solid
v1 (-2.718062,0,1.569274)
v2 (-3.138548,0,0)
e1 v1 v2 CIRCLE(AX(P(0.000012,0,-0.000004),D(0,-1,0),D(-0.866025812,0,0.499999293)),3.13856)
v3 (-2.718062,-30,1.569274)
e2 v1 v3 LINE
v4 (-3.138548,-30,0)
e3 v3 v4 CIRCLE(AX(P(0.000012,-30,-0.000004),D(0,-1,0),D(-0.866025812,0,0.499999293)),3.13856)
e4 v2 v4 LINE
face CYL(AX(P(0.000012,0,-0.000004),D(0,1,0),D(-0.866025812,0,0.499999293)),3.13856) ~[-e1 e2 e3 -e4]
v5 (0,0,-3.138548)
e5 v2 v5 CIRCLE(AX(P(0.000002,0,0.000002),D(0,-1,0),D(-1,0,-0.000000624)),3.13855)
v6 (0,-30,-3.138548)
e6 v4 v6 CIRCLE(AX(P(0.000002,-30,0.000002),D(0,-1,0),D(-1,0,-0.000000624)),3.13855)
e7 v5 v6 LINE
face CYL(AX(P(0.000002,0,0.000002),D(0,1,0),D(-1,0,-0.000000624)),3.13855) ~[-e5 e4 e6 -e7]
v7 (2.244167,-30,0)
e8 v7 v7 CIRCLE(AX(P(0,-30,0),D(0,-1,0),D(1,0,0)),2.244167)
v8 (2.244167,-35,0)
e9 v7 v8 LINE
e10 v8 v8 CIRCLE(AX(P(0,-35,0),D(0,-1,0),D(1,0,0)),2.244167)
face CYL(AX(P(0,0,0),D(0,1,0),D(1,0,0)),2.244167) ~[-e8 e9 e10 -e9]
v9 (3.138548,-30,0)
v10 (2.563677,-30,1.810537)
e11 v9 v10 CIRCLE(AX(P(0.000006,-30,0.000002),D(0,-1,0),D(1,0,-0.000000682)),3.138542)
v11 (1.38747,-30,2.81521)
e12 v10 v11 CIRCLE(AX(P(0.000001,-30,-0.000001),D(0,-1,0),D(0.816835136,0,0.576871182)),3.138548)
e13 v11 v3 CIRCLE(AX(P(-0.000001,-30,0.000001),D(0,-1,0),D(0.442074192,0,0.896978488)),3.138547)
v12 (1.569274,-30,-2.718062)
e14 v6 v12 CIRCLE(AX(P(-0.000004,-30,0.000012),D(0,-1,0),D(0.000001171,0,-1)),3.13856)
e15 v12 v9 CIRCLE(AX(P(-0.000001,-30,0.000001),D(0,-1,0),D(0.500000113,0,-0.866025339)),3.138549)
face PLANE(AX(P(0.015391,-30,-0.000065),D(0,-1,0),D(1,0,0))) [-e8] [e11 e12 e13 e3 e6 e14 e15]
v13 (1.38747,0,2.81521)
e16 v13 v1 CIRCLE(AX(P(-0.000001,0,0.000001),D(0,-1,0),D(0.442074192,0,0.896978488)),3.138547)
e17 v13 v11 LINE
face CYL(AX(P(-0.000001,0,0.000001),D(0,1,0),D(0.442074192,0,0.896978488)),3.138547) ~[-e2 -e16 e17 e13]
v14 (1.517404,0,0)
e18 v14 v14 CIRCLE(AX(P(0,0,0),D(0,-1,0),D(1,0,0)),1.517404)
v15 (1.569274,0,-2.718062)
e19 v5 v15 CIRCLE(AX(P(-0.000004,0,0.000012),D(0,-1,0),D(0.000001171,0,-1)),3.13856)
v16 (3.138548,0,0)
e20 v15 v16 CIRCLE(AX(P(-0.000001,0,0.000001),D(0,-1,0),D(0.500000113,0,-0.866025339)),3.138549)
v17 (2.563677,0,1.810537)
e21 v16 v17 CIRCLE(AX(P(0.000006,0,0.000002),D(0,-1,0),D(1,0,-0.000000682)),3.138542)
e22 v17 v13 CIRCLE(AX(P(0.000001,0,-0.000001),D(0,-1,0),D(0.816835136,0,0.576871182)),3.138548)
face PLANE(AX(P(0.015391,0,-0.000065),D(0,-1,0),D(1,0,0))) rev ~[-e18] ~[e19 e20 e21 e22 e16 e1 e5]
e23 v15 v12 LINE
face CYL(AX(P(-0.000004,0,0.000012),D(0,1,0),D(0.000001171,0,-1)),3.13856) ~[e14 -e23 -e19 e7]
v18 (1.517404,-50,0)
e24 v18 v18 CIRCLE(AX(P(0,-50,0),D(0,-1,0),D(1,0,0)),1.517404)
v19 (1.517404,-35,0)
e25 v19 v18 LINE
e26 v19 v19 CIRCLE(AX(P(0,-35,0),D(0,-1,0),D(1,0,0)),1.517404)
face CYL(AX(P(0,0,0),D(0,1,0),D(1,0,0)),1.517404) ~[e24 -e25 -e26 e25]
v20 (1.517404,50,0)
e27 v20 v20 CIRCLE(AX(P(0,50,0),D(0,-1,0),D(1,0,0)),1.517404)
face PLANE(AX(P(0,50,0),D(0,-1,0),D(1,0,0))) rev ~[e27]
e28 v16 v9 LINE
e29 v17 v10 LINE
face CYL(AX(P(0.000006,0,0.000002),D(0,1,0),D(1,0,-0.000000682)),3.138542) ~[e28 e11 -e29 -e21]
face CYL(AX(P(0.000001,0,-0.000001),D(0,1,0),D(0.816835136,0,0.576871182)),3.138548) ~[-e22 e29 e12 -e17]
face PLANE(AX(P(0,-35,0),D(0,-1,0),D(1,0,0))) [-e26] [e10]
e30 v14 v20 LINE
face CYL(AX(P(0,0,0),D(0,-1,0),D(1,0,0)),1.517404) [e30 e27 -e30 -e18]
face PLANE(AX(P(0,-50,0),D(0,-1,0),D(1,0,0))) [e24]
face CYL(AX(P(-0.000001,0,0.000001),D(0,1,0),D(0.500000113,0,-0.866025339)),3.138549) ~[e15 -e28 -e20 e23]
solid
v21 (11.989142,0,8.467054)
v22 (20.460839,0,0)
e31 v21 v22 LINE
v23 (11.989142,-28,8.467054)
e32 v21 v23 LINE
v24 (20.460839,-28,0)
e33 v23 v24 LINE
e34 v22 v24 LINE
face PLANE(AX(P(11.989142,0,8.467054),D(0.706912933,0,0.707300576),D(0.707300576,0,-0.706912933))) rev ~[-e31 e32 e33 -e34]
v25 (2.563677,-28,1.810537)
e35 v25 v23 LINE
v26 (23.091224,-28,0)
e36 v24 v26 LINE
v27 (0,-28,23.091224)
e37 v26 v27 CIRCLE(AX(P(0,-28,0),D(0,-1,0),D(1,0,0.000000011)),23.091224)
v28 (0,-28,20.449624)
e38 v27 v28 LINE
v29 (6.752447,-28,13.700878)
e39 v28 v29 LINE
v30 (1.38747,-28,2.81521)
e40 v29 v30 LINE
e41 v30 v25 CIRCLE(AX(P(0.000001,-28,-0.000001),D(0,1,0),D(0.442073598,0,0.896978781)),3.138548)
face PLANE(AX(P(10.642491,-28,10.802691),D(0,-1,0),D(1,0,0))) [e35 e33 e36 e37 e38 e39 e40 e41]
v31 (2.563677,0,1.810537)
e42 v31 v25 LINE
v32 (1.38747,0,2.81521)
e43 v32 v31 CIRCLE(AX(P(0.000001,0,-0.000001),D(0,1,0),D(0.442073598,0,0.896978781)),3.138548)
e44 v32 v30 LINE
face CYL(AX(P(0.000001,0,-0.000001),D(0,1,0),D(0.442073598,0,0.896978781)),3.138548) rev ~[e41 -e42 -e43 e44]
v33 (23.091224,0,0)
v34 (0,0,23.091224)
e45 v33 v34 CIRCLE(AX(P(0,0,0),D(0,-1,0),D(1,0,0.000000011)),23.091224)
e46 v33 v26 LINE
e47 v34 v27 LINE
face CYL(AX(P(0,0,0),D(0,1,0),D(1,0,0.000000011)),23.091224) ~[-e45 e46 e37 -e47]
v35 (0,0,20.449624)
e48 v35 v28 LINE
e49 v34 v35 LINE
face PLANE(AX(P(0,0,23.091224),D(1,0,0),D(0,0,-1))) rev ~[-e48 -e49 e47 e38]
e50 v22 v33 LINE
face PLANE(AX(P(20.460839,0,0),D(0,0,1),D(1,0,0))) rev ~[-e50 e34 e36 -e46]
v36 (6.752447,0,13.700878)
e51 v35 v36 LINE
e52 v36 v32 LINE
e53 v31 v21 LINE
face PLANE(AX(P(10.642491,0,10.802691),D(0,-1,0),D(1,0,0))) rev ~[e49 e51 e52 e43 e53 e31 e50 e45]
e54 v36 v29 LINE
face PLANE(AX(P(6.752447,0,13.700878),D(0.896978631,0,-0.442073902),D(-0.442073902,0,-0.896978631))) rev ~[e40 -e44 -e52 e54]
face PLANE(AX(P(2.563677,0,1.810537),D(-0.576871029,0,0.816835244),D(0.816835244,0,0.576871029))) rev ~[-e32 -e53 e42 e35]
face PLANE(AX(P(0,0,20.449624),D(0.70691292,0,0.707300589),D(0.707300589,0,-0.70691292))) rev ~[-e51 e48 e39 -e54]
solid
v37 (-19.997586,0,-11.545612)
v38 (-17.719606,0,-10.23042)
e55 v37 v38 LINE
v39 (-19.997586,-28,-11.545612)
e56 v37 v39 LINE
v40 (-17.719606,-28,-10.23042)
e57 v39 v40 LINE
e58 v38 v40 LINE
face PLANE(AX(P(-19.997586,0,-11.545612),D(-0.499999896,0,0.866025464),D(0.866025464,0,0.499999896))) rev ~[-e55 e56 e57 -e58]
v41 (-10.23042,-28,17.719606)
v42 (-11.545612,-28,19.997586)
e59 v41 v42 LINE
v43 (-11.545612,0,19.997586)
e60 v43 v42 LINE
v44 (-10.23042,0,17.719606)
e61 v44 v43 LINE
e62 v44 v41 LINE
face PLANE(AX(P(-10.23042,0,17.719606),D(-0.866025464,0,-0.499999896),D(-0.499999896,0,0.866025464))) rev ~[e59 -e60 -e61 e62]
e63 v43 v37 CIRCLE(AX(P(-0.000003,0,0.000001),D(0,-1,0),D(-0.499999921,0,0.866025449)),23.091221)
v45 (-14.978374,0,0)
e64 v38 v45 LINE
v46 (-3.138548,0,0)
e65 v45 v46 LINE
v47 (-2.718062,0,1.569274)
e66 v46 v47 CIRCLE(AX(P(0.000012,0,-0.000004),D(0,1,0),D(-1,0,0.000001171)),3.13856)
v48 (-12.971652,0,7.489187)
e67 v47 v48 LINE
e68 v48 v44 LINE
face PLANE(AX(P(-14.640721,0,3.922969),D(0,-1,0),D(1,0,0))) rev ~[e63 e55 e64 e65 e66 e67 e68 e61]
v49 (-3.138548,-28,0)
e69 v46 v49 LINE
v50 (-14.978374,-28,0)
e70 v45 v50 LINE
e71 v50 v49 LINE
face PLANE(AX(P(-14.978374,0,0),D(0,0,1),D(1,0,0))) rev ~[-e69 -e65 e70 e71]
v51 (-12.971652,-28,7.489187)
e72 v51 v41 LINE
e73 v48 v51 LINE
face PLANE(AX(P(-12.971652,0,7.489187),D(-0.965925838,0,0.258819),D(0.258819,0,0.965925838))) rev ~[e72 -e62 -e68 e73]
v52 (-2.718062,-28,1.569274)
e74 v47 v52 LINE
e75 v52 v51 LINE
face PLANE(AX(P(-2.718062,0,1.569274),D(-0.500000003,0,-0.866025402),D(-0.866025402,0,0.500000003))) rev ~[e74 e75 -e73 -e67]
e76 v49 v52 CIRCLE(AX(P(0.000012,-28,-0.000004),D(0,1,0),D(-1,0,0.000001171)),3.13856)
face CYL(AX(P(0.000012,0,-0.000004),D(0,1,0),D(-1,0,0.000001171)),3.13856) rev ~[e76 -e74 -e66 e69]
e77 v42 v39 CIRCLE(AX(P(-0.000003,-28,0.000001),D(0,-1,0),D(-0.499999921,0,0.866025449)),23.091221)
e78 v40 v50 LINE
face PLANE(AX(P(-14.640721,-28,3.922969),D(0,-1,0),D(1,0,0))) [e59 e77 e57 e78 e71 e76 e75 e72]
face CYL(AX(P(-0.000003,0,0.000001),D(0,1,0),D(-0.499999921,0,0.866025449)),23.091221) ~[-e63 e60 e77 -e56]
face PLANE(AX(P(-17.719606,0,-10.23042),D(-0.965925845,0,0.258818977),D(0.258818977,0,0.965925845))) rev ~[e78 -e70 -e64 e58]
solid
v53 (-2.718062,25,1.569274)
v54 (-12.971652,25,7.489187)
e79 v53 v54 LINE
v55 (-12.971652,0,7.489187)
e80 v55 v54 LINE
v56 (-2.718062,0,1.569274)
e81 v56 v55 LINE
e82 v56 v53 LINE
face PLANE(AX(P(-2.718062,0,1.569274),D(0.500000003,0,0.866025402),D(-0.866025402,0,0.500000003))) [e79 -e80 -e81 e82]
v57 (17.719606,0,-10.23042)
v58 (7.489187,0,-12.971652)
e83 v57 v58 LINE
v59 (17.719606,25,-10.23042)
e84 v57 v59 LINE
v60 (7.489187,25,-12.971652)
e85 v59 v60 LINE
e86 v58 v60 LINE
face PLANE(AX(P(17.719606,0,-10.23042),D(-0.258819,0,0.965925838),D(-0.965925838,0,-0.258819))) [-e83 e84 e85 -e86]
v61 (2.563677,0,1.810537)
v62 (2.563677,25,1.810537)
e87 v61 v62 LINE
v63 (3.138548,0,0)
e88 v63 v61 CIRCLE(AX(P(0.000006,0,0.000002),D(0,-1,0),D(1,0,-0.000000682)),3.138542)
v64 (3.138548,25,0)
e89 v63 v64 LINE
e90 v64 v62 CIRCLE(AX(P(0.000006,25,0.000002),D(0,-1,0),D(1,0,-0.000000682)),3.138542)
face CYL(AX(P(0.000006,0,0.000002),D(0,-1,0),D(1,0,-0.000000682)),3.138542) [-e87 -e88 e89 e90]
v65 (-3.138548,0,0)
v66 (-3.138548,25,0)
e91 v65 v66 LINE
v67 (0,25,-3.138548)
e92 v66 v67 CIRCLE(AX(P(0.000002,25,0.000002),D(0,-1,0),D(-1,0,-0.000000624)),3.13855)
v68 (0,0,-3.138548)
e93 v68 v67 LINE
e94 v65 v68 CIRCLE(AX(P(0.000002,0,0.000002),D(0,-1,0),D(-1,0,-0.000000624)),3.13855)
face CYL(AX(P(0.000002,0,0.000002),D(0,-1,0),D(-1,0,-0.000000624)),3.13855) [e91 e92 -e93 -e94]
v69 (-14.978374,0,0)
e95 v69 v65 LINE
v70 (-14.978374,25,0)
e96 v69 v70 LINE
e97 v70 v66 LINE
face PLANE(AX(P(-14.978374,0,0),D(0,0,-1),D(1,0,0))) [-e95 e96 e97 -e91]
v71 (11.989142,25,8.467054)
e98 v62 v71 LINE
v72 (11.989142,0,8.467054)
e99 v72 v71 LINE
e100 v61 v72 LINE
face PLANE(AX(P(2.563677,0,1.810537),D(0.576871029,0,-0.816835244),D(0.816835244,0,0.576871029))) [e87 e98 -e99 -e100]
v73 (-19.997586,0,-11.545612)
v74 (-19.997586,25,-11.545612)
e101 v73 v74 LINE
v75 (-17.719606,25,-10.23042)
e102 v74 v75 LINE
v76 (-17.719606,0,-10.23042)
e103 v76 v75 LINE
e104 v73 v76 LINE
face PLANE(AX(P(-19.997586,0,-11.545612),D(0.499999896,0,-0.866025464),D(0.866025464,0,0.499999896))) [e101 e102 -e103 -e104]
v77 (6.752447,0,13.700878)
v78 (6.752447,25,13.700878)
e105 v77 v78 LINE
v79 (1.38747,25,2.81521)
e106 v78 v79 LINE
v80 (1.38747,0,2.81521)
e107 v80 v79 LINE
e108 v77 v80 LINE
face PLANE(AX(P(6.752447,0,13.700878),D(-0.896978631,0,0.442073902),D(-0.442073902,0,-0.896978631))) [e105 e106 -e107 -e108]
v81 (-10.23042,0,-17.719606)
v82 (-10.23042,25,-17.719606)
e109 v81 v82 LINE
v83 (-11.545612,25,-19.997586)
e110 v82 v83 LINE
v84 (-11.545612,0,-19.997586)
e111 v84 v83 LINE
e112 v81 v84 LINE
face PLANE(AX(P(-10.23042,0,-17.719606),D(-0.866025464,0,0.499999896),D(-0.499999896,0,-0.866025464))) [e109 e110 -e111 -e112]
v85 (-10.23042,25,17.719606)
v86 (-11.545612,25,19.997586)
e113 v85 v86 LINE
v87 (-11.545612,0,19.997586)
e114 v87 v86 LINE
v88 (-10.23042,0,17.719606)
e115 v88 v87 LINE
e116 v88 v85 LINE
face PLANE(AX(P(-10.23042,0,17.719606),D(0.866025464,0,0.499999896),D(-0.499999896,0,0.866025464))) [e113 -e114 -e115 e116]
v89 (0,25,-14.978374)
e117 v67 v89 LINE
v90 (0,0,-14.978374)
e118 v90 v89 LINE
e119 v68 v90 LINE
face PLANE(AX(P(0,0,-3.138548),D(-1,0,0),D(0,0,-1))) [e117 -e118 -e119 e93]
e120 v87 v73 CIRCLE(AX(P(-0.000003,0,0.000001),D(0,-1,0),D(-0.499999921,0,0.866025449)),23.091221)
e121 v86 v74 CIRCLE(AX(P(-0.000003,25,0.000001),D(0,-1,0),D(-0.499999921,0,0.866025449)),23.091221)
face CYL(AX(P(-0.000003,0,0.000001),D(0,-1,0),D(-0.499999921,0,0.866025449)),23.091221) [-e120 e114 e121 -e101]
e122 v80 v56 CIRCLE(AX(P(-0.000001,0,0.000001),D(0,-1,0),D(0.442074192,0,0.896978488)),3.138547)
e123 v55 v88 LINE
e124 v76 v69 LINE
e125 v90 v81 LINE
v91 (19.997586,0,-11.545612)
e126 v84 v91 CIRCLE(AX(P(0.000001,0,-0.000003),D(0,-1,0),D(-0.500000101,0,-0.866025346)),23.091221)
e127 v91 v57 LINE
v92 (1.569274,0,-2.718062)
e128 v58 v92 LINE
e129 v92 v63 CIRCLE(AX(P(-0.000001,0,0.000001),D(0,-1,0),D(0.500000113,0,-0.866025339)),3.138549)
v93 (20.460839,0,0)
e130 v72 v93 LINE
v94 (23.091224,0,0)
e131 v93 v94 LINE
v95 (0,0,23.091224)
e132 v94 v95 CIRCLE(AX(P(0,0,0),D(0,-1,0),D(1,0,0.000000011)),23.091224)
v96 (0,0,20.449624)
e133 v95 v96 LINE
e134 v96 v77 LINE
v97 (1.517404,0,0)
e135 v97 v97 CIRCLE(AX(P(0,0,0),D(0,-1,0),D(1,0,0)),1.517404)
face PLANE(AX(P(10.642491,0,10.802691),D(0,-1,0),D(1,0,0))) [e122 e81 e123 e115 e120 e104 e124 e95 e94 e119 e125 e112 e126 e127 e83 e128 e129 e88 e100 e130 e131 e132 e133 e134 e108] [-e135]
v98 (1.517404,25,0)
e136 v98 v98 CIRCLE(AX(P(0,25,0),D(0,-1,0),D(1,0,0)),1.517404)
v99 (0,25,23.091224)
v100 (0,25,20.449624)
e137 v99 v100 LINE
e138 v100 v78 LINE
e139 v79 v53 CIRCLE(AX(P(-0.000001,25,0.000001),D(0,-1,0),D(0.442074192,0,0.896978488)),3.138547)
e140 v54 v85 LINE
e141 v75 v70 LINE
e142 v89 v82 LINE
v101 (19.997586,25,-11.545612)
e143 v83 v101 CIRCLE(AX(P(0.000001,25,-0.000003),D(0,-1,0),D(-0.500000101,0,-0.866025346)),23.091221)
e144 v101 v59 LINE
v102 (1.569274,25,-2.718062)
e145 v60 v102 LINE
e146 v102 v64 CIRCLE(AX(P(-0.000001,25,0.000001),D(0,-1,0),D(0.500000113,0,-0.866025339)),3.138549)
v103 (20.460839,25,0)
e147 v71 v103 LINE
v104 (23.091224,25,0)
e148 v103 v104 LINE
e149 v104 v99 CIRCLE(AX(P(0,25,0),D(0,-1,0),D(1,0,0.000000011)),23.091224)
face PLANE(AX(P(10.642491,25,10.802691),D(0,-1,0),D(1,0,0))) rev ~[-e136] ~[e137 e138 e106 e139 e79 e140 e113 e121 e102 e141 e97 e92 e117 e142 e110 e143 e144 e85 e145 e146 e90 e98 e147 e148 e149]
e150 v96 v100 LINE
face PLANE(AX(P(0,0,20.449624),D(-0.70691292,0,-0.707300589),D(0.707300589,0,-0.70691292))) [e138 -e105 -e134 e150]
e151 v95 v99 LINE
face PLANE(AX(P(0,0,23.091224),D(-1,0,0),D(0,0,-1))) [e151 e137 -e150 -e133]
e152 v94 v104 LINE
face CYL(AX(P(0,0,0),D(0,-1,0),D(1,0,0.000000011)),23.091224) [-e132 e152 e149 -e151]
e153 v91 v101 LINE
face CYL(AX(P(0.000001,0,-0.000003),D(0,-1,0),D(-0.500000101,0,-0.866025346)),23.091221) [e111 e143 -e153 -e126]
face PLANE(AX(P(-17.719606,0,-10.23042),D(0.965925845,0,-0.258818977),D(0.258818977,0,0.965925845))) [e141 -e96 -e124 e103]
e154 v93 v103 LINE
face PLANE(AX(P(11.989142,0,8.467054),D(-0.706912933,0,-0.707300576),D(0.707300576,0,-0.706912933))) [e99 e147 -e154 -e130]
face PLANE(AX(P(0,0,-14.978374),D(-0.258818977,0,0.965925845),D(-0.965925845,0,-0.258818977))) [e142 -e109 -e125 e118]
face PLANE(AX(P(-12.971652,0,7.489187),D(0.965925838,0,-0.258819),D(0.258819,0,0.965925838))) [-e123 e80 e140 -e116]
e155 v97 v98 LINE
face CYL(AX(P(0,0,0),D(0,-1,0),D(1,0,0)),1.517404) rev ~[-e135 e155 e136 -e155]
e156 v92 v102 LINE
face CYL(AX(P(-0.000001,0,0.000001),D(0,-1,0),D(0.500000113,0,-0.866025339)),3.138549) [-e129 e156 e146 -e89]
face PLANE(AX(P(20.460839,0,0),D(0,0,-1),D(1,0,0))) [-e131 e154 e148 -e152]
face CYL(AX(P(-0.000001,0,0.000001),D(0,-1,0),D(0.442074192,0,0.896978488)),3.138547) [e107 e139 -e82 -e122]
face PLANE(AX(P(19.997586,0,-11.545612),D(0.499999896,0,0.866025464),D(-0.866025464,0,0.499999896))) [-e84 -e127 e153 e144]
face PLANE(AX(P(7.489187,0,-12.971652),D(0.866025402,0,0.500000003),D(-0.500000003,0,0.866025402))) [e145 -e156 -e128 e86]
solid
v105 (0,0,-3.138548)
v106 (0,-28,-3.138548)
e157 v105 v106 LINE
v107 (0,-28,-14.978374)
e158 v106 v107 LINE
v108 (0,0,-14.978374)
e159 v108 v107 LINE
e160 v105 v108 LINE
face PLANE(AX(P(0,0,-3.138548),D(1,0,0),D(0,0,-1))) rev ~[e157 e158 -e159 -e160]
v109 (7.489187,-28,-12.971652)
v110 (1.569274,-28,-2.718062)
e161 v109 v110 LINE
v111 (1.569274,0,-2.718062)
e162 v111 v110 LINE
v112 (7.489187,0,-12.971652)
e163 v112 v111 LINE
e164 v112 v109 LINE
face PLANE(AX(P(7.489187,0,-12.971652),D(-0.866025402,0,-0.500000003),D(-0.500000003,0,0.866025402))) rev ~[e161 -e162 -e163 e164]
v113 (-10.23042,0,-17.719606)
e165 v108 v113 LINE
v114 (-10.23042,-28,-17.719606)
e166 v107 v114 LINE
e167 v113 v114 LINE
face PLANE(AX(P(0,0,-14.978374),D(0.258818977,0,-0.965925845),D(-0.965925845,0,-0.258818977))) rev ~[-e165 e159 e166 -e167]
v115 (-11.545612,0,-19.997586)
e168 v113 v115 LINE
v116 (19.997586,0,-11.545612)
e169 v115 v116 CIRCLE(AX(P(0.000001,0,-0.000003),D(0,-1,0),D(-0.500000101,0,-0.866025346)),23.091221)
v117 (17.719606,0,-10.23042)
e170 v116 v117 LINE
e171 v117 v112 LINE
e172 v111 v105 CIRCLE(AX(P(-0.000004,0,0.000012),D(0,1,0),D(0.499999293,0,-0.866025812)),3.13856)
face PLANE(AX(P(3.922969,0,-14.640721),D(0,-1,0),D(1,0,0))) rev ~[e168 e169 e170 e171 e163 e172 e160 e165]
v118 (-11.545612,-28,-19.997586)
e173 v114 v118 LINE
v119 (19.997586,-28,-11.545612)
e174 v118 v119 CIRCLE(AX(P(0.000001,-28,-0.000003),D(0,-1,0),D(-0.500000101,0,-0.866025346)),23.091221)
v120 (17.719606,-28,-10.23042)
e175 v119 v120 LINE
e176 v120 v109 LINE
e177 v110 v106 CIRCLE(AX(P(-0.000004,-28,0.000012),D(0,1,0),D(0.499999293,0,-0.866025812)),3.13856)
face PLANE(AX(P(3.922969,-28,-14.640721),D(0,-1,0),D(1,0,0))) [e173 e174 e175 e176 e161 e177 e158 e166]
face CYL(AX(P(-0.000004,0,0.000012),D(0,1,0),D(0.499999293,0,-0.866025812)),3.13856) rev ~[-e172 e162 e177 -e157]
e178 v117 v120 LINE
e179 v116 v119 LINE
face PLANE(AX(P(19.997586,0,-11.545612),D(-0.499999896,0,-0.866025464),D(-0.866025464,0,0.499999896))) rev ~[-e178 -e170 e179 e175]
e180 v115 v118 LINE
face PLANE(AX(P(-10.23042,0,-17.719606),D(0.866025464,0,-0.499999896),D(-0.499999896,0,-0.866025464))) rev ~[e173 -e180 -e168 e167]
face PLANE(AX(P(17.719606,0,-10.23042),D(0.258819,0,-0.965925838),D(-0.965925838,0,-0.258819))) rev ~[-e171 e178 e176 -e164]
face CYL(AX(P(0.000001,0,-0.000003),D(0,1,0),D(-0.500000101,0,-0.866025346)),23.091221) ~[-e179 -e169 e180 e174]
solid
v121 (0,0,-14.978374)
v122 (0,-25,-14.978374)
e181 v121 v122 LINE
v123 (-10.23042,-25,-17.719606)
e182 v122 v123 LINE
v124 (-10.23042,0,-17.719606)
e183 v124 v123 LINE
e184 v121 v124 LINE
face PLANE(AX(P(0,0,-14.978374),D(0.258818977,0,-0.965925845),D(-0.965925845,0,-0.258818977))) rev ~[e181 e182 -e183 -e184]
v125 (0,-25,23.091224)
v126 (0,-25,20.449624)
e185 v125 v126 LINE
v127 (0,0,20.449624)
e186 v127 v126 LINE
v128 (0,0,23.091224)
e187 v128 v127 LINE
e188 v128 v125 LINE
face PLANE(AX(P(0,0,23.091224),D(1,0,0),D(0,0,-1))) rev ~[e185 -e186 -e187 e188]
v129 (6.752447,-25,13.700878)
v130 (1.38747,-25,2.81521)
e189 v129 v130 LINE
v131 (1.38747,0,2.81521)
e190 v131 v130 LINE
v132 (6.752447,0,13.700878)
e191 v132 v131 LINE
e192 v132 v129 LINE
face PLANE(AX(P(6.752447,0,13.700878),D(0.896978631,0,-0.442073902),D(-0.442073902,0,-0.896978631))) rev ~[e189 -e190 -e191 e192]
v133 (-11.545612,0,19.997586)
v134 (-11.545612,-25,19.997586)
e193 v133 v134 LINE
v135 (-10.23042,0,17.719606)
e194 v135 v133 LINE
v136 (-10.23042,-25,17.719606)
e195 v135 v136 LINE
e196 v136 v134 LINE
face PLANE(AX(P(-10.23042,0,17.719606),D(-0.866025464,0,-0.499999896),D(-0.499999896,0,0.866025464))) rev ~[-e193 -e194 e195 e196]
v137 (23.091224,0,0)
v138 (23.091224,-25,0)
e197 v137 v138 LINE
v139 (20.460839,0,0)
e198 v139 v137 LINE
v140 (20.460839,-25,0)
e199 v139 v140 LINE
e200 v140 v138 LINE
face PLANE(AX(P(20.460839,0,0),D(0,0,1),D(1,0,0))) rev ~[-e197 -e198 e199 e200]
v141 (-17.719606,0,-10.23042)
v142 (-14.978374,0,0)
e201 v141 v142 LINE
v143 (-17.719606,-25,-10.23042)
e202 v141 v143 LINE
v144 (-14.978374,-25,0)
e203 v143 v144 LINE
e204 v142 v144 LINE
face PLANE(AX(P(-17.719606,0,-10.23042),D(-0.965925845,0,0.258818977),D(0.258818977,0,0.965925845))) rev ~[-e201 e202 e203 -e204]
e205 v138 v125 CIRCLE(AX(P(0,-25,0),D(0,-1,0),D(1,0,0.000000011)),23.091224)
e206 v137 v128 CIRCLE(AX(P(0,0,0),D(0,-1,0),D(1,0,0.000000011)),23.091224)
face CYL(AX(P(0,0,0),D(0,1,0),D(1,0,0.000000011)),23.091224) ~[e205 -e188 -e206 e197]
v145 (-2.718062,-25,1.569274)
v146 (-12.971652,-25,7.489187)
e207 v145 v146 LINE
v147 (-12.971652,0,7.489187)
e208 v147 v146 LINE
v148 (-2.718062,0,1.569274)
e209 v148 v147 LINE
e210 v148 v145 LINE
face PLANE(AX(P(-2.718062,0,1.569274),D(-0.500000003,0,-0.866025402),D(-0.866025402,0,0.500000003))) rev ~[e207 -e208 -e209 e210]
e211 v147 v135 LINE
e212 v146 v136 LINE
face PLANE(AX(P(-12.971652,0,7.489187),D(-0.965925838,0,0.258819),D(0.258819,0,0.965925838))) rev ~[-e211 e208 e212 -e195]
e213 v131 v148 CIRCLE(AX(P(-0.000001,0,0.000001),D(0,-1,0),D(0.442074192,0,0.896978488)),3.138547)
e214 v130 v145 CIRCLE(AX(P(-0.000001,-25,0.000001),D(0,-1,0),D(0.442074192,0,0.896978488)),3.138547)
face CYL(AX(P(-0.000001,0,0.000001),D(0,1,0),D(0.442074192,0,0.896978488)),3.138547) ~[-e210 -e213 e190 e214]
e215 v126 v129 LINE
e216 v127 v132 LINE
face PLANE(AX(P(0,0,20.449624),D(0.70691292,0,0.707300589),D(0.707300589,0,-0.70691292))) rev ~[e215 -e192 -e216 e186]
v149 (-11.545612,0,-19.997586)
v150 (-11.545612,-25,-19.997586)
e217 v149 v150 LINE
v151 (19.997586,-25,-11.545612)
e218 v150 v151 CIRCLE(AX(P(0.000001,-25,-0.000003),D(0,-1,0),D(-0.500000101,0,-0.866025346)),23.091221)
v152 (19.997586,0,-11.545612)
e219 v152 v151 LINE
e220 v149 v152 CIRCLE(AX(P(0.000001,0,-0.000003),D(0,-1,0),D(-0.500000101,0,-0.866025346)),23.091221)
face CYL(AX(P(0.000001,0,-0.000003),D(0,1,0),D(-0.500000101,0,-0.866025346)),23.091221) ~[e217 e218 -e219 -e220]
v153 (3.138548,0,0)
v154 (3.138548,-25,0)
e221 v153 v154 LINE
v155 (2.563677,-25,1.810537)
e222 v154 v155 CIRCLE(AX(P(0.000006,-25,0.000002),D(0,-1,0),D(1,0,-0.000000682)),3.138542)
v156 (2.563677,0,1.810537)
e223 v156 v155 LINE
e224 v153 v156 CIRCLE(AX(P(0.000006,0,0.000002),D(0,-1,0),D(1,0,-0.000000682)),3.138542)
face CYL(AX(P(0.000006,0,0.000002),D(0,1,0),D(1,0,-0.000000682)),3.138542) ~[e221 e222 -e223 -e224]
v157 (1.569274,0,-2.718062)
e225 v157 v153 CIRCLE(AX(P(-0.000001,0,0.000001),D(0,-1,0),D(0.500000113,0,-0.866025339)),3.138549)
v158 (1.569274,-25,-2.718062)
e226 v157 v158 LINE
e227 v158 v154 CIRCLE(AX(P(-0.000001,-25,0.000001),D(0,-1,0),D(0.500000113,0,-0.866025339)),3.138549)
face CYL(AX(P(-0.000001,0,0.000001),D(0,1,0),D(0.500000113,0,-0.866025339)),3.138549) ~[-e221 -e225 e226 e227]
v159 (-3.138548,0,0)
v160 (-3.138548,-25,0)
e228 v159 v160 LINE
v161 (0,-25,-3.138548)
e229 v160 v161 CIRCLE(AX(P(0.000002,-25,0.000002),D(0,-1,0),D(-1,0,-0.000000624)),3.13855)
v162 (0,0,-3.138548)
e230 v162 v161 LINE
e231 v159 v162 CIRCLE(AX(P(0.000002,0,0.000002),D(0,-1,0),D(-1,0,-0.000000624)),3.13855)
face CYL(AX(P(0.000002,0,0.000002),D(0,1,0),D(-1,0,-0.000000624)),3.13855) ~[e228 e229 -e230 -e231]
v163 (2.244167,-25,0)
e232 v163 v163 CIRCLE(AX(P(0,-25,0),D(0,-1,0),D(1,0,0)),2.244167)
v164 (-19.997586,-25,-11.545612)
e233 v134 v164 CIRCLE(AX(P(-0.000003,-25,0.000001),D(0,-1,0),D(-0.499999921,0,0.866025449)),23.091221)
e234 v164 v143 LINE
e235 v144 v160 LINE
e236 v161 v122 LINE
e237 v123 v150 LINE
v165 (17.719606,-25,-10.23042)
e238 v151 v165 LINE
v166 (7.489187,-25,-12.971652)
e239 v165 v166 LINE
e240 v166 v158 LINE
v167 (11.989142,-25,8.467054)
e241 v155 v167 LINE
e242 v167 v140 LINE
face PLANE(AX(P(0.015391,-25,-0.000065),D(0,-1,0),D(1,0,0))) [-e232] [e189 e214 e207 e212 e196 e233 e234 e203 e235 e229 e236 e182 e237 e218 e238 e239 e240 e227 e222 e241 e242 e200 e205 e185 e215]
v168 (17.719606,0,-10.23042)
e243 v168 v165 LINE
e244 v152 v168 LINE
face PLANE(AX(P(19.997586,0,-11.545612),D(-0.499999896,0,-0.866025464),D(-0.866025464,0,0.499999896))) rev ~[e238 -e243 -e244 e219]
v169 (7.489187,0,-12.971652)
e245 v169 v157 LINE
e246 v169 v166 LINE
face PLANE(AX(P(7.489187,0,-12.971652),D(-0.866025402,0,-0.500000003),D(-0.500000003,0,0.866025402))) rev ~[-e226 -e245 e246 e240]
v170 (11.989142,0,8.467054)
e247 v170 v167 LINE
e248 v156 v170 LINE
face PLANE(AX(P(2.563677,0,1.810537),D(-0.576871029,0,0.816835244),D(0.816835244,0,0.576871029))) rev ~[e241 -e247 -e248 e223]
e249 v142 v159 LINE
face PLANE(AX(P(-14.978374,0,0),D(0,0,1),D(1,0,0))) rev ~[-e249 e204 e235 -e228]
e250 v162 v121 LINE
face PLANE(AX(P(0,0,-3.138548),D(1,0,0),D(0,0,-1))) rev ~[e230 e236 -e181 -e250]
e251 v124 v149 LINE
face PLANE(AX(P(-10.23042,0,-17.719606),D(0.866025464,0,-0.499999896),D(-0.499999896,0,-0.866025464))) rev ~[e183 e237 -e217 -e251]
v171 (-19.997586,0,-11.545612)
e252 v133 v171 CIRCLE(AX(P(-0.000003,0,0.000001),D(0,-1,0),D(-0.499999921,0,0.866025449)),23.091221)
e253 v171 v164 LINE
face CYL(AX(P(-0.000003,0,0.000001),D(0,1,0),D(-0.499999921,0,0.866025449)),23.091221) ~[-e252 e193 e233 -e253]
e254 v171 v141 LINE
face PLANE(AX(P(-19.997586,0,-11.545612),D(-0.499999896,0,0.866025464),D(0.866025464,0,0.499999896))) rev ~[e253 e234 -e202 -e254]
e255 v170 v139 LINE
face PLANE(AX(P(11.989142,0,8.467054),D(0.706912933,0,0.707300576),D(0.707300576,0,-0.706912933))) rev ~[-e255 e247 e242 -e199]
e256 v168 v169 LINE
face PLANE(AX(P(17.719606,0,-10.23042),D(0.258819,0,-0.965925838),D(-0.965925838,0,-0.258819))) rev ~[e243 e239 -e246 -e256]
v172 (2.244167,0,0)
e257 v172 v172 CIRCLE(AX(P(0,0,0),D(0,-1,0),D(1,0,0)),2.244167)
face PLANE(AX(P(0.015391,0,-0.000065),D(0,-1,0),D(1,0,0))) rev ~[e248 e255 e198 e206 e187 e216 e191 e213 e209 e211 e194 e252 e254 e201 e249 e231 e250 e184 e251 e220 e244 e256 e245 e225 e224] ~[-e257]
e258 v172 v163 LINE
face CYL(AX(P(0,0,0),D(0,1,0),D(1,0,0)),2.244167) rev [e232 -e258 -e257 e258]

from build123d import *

# Parameters (mm, degrees)
F1_DEPTH = 28
F0_R     = 2.244167
F2_DEPTH = 30
F0_R_2   = 1.517404
F3_DEPTH = 35
F4_DEPTH = 50
F5_DEPTH = 50
F6_DEPTH = 25
F7_DEPTH = 25


with BuildPart() as f1:
    # F0 (on Front) → F1 (new body)
    with BuildSketch(Plane.XZ):
        with BuildLine():
            ThreePointArc((-3.138548, 0), (-3.031604, 0.812316), (-2.718062, 1.569274))
            Line((-2.718062, 1.569274), (-12.971652, 7.489187))
            Line((-12.971652, 7.489187), (-10.23042, 17.719606))
            Line((-10.23042, 17.719606), (-11.545612, 19.997586))
            ThreePointArc((-11.545612, 19.997586), (-22.30441, 5.976449), (-19.997586, -11.545612))
            Line((-19.997586, -11.545612), (-17.719606, -10.23042))
            Line((-17.719606, -10.23042), (-14.978374, 0))
            Line((-14.978374, 0), (-3.138548, 0))
        make_face()
        with BuildLine():
            ThreePointArc((1.38747, 2.81521), (2.038439, 2.386472), (2.563677, 1.810537))
            Line((2.563677, 1.810537), (11.989142, 8.467054))
            Line((11.989142, 8.467054), (20.460839, 0))
            Line((20.460839, 0), (23.091224, 0))
            ThreePointArc((23.091224, 0), (16.327961, 16.327961), (0, 23.091224))
            Line((0, 23.091224), (0, 20.449624))
            Line((0, 20.449624), (6.752447, 13.700878))
            Line((6.752447, 13.700878), (1.38747, 2.81521))
        make_face()
        with BuildLine():
            Line((7.489187, -12.971652), (1.569274, -2.718062))
            ThreePointArc((1.569274, -2.718062), (0.812316, -3.031604), (0, -3.138548))
            Line((0, -3.138548), (0, -14.978374))
            Line((0, -14.978374), (-10.23042, -17.719606))
            Line((-10.23042, -17.719606), (-11.545612, -19.997586))
            ThreePointArc((-11.545612, -19.997586), (5.976449, -22.30441), (19.997586, -11.545612))
            Line((19.997586, -11.545612), (17.719606, -10.23042))
            Line((17.719606, -10.23042), (7.489187, -12.971652))
        make_face()
    extrude(amount=F1_DEPTH)


with BuildPart() as f2:
    # F0 (on Front) → F2 (new body)
    with BuildSketch(Plane.XZ):
        with BuildLine():
            ThreePointArc((1.569274, -2.718062), (2.718062, -1.569274), (3.138548, 0))
            ThreePointArc((3.138548, 0), (2.99138, 0.949806), (2.563677, 1.810537))
            ThreePointArc((2.563677, 1.810537), (2.038439, 2.386472), (1.38747, 2.81521))
            ThreePointArc((1.38747, 2.81521), (-0.911432, 3.003294), (-2.718062, 1.569274))
            ThreePointArc((-2.718062, 1.569274), (-3.031604, 0.812316), (-3.138548, 0))
            ThreePointArc((-3.138548, 0), (-2.219288, -2.219288), (0, -3.138548))
            ThreePointArc((0, -3.138548), (0.812316, -3.031604), (1.569274, -2.718062))
        make_face()
        Circle(F0_R, mode=Mode.SUBTRACT)
    extrude(amount=F2_DEPTH)

    # F0 (on Front) → F3 (join)
    with BuildSketch(Plane.XZ):
        Circle(F0_R)
        Circle(F0_R_2, mode=Mode.SUBTRACT)
    extrude(amount=F3_DEPTH)

    # F0 (on Front) → F4 (join)
    with BuildSketch(Plane.XZ):
        Circle(F0_R_2)
    extrude(amount=F4_DEPTH)

    # F0 (on Front) → F5 (join)
    with BuildSketch(Plane.XZ):
        Circle(F0_R_2)
    extrude(amount=-F5_DEPTH)


with BuildPart() as f6:
    # F0 (on Front) → F6 (new body)
    with BuildSketch(Plane.XZ):
        with BuildLine():
            ThreePointArc((1.38747, 2.81521), (2.038439, 2.386472), (2.563677, 1.810537))
            Line((2.563677, 1.810537), (11.989142, 8.467054))
            Line((11.989142, 8.467054), (20.460839, 0))
            Line((20.460839, 0), (23.091224, 0))
            ThreePointArc((23.091224, 0), (16.327961, 16.327961), (0, 23.091224))
            Line((0, 23.091224), (0, 20.449624))
            Line((0, 20.449624), (6.752447, 13.700878))
            Line((6.752447, 13.700878), (1.38747, 2.81521))
        make_face()
        with BuildLine():
            ThreePointArc((-3.138548, 0), (-3.031604, 0.812316), (-2.718062, 1.569274))
            Line((-2.718062, 1.569274), (-12.971652, 7.489187))
            Line((-12.971652, 7.489187), (-10.23042, 17.719606))
            Line((-10.23042, 17.719606), (-11.545612, 19.997586))
            ThreePointArc((-11.545612, 19.997586), (-22.30441, 5.976449), (-19.997586, -11.545612))
            Line((-19.997586, -11.545612), (-17.719606, -10.23042))
            Line((-17.719606, -10.23042), (-14.978374, 0))
            Line((-14.978374, 0), (-3.138548, 0))
        make_face()
        with BuildLine():
            Line((7.489187, -12.971652), (1.569274, -2.718062))
            ThreePointArc((1.569274, -2.718062), (0.812316, -3.031604), (0, -3.138548))
            Line((0, -3.138548), (0, -14.978374))
            Line((0, -14.978374), (-10.23042, -17.719606))
            Line((-10.23042, -17.719606), (-11.545612, -19.997586))
            ThreePointArc((-11.545612, -19.997586), (5.976449, -22.30441), (19.997586, -11.545612))
            Line((19.997586, -11.545612), (17.719606, -10.23042))
            Line((17.719606, -10.23042), (7.489187, -12.971652))
        make_face()
        with BuildLine():
            ThreePointArc((1.569274, -2.718062), (2.718062, -1.569274), (3.138548, 0))
            ThreePointArc((3.138548, 0), (2.99138, 0.949806), (2.563677, 1.810537))
            ThreePointArc((2.563677, 1.810537), (2.038439, 2.386472), (1.38747, 2.81521))
            ThreePointArc((1.38747, 2.81521), (-0.911432, 3.003294), (-2.718062, 1.569274))
            ThreePointArc((-2.718062, 1.569274), (-3.031604, 0.812316), (-3.138548, 0))
            ThreePointArc((-3.138548, 0), (-2.219288, -2.219288), (0, -3.138548))
            ThreePointArc((0, -3.138548), (0.812316, -3.031604), (1.569274, -2.718062))
        make_face()
        Circle(F0_R, mode=Mode.SUBTRACT)
        Circle(F0_R)
        Circle(F0_R_2, mode=Mode.SUBTRACT)
    extrude(amount=-F6_DEPTH)


with BuildPart() as f7:
    # F0 (on Front) → F7 (new body)
    with BuildSketch(Plane.XZ):
        with BuildLine():
            ThreePointArc((1.569274, -2.718062), (2.718062, -1.569274), (3.138548, 0))
            ThreePointArc((3.138548, 0), (2.99138, 0.949806), (2.563677, 1.810537))
            ThreePointArc((2.563677, 1.810537), (2.038439, 2.386472), (1.38747, 2.81521))
            ThreePointArc((1.38747, 2.81521), (-0.911432, 3.003294), (-2.718062, 1.569274))
            ThreePointArc((-2.718062, 1.569274), (-3.031604, 0.812316), (-3.138548, 0))
            ThreePointArc((-3.138548, 0), (-2.219288, -2.219288), (0, -3.138548))
            ThreePointArc((0, -3.138548), (0.812316, -3.031604), (1.569274, -2.718062))
        make_face()
        Circle(F0_R, mode=Mode.SUBTRACT)
        with BuildLine():
            ThreePointArc((1.38747, 2.81521), (2.038439, 2.386472), (2.563677, 1.810537))
            Line((2.563677, 1.810537), (11.989142, 8.467054))
            Line((11.989142, 8.467054), (20.460839, 0))
            Line((20.460839, 0), (23.091224, 0))
            ThreePointArc((23.091224, 0), (16.327961, 16.327961), (0, 23.091224))
            Line((0, 23.091224), (0, 20.449624))
            Line((0, 20.449624), (6.752447, 13.700878))
            Line((6.752447, 13.700878), (1.38747, 2.81521))
        make_face()
        with BuildLine():
            Line((7.489187, -12.971652), (1.569274, -2.718062))
            ThreePointArc((1.569274, -2.718062), (0.812316, -3.031604), (0, -3.138548))
            Line((0, -3.138548), (0, -14.978374))
            Line((0, -14.978374), (-10.23042, -17.719606))
            Line((-10.23042, -17.719606), (-11.545612, -19.997586))
            ThreePointArc((-11.545612, -19.997586), (5.976449, -22.30441), (19.997586, -11.545612))
            Line((19.997586, -11.545612), (17.719606, -10.23042))
            Line((17.719606, -10.23042), (7.489187, -12.971652))
        make_face()
        with BuildLine():
            ThreePointArc((-3.138548, 0), (-3.031604, 0.812316), (-2.718062, 1.569274))
            Line((-2.718062, 1.569274), (-12.971652, 7.489187))
            Line((-12.971652, 7.489187), (-10.23042, 17.719606))
            Line((-10.23042, 17.719606), (-11.545612, 19.997586))
            ThreePointArc((-11.545612, 19.997586), (-22.30441, 5.976449), (-19.997586, -11.545612))
            Line((-19.997586, -11.545612), (-17.719606, -10.23042))
            Line((-17.719606, -10.23042), (-14.978374, 0))
            Line((-14.978374, 0), (-3.138548, 0))
        make_face()
    extrude(amount=F7_DEPTH)


solid = Compound([f1.part, f2.part, f6.part, f7.part])
